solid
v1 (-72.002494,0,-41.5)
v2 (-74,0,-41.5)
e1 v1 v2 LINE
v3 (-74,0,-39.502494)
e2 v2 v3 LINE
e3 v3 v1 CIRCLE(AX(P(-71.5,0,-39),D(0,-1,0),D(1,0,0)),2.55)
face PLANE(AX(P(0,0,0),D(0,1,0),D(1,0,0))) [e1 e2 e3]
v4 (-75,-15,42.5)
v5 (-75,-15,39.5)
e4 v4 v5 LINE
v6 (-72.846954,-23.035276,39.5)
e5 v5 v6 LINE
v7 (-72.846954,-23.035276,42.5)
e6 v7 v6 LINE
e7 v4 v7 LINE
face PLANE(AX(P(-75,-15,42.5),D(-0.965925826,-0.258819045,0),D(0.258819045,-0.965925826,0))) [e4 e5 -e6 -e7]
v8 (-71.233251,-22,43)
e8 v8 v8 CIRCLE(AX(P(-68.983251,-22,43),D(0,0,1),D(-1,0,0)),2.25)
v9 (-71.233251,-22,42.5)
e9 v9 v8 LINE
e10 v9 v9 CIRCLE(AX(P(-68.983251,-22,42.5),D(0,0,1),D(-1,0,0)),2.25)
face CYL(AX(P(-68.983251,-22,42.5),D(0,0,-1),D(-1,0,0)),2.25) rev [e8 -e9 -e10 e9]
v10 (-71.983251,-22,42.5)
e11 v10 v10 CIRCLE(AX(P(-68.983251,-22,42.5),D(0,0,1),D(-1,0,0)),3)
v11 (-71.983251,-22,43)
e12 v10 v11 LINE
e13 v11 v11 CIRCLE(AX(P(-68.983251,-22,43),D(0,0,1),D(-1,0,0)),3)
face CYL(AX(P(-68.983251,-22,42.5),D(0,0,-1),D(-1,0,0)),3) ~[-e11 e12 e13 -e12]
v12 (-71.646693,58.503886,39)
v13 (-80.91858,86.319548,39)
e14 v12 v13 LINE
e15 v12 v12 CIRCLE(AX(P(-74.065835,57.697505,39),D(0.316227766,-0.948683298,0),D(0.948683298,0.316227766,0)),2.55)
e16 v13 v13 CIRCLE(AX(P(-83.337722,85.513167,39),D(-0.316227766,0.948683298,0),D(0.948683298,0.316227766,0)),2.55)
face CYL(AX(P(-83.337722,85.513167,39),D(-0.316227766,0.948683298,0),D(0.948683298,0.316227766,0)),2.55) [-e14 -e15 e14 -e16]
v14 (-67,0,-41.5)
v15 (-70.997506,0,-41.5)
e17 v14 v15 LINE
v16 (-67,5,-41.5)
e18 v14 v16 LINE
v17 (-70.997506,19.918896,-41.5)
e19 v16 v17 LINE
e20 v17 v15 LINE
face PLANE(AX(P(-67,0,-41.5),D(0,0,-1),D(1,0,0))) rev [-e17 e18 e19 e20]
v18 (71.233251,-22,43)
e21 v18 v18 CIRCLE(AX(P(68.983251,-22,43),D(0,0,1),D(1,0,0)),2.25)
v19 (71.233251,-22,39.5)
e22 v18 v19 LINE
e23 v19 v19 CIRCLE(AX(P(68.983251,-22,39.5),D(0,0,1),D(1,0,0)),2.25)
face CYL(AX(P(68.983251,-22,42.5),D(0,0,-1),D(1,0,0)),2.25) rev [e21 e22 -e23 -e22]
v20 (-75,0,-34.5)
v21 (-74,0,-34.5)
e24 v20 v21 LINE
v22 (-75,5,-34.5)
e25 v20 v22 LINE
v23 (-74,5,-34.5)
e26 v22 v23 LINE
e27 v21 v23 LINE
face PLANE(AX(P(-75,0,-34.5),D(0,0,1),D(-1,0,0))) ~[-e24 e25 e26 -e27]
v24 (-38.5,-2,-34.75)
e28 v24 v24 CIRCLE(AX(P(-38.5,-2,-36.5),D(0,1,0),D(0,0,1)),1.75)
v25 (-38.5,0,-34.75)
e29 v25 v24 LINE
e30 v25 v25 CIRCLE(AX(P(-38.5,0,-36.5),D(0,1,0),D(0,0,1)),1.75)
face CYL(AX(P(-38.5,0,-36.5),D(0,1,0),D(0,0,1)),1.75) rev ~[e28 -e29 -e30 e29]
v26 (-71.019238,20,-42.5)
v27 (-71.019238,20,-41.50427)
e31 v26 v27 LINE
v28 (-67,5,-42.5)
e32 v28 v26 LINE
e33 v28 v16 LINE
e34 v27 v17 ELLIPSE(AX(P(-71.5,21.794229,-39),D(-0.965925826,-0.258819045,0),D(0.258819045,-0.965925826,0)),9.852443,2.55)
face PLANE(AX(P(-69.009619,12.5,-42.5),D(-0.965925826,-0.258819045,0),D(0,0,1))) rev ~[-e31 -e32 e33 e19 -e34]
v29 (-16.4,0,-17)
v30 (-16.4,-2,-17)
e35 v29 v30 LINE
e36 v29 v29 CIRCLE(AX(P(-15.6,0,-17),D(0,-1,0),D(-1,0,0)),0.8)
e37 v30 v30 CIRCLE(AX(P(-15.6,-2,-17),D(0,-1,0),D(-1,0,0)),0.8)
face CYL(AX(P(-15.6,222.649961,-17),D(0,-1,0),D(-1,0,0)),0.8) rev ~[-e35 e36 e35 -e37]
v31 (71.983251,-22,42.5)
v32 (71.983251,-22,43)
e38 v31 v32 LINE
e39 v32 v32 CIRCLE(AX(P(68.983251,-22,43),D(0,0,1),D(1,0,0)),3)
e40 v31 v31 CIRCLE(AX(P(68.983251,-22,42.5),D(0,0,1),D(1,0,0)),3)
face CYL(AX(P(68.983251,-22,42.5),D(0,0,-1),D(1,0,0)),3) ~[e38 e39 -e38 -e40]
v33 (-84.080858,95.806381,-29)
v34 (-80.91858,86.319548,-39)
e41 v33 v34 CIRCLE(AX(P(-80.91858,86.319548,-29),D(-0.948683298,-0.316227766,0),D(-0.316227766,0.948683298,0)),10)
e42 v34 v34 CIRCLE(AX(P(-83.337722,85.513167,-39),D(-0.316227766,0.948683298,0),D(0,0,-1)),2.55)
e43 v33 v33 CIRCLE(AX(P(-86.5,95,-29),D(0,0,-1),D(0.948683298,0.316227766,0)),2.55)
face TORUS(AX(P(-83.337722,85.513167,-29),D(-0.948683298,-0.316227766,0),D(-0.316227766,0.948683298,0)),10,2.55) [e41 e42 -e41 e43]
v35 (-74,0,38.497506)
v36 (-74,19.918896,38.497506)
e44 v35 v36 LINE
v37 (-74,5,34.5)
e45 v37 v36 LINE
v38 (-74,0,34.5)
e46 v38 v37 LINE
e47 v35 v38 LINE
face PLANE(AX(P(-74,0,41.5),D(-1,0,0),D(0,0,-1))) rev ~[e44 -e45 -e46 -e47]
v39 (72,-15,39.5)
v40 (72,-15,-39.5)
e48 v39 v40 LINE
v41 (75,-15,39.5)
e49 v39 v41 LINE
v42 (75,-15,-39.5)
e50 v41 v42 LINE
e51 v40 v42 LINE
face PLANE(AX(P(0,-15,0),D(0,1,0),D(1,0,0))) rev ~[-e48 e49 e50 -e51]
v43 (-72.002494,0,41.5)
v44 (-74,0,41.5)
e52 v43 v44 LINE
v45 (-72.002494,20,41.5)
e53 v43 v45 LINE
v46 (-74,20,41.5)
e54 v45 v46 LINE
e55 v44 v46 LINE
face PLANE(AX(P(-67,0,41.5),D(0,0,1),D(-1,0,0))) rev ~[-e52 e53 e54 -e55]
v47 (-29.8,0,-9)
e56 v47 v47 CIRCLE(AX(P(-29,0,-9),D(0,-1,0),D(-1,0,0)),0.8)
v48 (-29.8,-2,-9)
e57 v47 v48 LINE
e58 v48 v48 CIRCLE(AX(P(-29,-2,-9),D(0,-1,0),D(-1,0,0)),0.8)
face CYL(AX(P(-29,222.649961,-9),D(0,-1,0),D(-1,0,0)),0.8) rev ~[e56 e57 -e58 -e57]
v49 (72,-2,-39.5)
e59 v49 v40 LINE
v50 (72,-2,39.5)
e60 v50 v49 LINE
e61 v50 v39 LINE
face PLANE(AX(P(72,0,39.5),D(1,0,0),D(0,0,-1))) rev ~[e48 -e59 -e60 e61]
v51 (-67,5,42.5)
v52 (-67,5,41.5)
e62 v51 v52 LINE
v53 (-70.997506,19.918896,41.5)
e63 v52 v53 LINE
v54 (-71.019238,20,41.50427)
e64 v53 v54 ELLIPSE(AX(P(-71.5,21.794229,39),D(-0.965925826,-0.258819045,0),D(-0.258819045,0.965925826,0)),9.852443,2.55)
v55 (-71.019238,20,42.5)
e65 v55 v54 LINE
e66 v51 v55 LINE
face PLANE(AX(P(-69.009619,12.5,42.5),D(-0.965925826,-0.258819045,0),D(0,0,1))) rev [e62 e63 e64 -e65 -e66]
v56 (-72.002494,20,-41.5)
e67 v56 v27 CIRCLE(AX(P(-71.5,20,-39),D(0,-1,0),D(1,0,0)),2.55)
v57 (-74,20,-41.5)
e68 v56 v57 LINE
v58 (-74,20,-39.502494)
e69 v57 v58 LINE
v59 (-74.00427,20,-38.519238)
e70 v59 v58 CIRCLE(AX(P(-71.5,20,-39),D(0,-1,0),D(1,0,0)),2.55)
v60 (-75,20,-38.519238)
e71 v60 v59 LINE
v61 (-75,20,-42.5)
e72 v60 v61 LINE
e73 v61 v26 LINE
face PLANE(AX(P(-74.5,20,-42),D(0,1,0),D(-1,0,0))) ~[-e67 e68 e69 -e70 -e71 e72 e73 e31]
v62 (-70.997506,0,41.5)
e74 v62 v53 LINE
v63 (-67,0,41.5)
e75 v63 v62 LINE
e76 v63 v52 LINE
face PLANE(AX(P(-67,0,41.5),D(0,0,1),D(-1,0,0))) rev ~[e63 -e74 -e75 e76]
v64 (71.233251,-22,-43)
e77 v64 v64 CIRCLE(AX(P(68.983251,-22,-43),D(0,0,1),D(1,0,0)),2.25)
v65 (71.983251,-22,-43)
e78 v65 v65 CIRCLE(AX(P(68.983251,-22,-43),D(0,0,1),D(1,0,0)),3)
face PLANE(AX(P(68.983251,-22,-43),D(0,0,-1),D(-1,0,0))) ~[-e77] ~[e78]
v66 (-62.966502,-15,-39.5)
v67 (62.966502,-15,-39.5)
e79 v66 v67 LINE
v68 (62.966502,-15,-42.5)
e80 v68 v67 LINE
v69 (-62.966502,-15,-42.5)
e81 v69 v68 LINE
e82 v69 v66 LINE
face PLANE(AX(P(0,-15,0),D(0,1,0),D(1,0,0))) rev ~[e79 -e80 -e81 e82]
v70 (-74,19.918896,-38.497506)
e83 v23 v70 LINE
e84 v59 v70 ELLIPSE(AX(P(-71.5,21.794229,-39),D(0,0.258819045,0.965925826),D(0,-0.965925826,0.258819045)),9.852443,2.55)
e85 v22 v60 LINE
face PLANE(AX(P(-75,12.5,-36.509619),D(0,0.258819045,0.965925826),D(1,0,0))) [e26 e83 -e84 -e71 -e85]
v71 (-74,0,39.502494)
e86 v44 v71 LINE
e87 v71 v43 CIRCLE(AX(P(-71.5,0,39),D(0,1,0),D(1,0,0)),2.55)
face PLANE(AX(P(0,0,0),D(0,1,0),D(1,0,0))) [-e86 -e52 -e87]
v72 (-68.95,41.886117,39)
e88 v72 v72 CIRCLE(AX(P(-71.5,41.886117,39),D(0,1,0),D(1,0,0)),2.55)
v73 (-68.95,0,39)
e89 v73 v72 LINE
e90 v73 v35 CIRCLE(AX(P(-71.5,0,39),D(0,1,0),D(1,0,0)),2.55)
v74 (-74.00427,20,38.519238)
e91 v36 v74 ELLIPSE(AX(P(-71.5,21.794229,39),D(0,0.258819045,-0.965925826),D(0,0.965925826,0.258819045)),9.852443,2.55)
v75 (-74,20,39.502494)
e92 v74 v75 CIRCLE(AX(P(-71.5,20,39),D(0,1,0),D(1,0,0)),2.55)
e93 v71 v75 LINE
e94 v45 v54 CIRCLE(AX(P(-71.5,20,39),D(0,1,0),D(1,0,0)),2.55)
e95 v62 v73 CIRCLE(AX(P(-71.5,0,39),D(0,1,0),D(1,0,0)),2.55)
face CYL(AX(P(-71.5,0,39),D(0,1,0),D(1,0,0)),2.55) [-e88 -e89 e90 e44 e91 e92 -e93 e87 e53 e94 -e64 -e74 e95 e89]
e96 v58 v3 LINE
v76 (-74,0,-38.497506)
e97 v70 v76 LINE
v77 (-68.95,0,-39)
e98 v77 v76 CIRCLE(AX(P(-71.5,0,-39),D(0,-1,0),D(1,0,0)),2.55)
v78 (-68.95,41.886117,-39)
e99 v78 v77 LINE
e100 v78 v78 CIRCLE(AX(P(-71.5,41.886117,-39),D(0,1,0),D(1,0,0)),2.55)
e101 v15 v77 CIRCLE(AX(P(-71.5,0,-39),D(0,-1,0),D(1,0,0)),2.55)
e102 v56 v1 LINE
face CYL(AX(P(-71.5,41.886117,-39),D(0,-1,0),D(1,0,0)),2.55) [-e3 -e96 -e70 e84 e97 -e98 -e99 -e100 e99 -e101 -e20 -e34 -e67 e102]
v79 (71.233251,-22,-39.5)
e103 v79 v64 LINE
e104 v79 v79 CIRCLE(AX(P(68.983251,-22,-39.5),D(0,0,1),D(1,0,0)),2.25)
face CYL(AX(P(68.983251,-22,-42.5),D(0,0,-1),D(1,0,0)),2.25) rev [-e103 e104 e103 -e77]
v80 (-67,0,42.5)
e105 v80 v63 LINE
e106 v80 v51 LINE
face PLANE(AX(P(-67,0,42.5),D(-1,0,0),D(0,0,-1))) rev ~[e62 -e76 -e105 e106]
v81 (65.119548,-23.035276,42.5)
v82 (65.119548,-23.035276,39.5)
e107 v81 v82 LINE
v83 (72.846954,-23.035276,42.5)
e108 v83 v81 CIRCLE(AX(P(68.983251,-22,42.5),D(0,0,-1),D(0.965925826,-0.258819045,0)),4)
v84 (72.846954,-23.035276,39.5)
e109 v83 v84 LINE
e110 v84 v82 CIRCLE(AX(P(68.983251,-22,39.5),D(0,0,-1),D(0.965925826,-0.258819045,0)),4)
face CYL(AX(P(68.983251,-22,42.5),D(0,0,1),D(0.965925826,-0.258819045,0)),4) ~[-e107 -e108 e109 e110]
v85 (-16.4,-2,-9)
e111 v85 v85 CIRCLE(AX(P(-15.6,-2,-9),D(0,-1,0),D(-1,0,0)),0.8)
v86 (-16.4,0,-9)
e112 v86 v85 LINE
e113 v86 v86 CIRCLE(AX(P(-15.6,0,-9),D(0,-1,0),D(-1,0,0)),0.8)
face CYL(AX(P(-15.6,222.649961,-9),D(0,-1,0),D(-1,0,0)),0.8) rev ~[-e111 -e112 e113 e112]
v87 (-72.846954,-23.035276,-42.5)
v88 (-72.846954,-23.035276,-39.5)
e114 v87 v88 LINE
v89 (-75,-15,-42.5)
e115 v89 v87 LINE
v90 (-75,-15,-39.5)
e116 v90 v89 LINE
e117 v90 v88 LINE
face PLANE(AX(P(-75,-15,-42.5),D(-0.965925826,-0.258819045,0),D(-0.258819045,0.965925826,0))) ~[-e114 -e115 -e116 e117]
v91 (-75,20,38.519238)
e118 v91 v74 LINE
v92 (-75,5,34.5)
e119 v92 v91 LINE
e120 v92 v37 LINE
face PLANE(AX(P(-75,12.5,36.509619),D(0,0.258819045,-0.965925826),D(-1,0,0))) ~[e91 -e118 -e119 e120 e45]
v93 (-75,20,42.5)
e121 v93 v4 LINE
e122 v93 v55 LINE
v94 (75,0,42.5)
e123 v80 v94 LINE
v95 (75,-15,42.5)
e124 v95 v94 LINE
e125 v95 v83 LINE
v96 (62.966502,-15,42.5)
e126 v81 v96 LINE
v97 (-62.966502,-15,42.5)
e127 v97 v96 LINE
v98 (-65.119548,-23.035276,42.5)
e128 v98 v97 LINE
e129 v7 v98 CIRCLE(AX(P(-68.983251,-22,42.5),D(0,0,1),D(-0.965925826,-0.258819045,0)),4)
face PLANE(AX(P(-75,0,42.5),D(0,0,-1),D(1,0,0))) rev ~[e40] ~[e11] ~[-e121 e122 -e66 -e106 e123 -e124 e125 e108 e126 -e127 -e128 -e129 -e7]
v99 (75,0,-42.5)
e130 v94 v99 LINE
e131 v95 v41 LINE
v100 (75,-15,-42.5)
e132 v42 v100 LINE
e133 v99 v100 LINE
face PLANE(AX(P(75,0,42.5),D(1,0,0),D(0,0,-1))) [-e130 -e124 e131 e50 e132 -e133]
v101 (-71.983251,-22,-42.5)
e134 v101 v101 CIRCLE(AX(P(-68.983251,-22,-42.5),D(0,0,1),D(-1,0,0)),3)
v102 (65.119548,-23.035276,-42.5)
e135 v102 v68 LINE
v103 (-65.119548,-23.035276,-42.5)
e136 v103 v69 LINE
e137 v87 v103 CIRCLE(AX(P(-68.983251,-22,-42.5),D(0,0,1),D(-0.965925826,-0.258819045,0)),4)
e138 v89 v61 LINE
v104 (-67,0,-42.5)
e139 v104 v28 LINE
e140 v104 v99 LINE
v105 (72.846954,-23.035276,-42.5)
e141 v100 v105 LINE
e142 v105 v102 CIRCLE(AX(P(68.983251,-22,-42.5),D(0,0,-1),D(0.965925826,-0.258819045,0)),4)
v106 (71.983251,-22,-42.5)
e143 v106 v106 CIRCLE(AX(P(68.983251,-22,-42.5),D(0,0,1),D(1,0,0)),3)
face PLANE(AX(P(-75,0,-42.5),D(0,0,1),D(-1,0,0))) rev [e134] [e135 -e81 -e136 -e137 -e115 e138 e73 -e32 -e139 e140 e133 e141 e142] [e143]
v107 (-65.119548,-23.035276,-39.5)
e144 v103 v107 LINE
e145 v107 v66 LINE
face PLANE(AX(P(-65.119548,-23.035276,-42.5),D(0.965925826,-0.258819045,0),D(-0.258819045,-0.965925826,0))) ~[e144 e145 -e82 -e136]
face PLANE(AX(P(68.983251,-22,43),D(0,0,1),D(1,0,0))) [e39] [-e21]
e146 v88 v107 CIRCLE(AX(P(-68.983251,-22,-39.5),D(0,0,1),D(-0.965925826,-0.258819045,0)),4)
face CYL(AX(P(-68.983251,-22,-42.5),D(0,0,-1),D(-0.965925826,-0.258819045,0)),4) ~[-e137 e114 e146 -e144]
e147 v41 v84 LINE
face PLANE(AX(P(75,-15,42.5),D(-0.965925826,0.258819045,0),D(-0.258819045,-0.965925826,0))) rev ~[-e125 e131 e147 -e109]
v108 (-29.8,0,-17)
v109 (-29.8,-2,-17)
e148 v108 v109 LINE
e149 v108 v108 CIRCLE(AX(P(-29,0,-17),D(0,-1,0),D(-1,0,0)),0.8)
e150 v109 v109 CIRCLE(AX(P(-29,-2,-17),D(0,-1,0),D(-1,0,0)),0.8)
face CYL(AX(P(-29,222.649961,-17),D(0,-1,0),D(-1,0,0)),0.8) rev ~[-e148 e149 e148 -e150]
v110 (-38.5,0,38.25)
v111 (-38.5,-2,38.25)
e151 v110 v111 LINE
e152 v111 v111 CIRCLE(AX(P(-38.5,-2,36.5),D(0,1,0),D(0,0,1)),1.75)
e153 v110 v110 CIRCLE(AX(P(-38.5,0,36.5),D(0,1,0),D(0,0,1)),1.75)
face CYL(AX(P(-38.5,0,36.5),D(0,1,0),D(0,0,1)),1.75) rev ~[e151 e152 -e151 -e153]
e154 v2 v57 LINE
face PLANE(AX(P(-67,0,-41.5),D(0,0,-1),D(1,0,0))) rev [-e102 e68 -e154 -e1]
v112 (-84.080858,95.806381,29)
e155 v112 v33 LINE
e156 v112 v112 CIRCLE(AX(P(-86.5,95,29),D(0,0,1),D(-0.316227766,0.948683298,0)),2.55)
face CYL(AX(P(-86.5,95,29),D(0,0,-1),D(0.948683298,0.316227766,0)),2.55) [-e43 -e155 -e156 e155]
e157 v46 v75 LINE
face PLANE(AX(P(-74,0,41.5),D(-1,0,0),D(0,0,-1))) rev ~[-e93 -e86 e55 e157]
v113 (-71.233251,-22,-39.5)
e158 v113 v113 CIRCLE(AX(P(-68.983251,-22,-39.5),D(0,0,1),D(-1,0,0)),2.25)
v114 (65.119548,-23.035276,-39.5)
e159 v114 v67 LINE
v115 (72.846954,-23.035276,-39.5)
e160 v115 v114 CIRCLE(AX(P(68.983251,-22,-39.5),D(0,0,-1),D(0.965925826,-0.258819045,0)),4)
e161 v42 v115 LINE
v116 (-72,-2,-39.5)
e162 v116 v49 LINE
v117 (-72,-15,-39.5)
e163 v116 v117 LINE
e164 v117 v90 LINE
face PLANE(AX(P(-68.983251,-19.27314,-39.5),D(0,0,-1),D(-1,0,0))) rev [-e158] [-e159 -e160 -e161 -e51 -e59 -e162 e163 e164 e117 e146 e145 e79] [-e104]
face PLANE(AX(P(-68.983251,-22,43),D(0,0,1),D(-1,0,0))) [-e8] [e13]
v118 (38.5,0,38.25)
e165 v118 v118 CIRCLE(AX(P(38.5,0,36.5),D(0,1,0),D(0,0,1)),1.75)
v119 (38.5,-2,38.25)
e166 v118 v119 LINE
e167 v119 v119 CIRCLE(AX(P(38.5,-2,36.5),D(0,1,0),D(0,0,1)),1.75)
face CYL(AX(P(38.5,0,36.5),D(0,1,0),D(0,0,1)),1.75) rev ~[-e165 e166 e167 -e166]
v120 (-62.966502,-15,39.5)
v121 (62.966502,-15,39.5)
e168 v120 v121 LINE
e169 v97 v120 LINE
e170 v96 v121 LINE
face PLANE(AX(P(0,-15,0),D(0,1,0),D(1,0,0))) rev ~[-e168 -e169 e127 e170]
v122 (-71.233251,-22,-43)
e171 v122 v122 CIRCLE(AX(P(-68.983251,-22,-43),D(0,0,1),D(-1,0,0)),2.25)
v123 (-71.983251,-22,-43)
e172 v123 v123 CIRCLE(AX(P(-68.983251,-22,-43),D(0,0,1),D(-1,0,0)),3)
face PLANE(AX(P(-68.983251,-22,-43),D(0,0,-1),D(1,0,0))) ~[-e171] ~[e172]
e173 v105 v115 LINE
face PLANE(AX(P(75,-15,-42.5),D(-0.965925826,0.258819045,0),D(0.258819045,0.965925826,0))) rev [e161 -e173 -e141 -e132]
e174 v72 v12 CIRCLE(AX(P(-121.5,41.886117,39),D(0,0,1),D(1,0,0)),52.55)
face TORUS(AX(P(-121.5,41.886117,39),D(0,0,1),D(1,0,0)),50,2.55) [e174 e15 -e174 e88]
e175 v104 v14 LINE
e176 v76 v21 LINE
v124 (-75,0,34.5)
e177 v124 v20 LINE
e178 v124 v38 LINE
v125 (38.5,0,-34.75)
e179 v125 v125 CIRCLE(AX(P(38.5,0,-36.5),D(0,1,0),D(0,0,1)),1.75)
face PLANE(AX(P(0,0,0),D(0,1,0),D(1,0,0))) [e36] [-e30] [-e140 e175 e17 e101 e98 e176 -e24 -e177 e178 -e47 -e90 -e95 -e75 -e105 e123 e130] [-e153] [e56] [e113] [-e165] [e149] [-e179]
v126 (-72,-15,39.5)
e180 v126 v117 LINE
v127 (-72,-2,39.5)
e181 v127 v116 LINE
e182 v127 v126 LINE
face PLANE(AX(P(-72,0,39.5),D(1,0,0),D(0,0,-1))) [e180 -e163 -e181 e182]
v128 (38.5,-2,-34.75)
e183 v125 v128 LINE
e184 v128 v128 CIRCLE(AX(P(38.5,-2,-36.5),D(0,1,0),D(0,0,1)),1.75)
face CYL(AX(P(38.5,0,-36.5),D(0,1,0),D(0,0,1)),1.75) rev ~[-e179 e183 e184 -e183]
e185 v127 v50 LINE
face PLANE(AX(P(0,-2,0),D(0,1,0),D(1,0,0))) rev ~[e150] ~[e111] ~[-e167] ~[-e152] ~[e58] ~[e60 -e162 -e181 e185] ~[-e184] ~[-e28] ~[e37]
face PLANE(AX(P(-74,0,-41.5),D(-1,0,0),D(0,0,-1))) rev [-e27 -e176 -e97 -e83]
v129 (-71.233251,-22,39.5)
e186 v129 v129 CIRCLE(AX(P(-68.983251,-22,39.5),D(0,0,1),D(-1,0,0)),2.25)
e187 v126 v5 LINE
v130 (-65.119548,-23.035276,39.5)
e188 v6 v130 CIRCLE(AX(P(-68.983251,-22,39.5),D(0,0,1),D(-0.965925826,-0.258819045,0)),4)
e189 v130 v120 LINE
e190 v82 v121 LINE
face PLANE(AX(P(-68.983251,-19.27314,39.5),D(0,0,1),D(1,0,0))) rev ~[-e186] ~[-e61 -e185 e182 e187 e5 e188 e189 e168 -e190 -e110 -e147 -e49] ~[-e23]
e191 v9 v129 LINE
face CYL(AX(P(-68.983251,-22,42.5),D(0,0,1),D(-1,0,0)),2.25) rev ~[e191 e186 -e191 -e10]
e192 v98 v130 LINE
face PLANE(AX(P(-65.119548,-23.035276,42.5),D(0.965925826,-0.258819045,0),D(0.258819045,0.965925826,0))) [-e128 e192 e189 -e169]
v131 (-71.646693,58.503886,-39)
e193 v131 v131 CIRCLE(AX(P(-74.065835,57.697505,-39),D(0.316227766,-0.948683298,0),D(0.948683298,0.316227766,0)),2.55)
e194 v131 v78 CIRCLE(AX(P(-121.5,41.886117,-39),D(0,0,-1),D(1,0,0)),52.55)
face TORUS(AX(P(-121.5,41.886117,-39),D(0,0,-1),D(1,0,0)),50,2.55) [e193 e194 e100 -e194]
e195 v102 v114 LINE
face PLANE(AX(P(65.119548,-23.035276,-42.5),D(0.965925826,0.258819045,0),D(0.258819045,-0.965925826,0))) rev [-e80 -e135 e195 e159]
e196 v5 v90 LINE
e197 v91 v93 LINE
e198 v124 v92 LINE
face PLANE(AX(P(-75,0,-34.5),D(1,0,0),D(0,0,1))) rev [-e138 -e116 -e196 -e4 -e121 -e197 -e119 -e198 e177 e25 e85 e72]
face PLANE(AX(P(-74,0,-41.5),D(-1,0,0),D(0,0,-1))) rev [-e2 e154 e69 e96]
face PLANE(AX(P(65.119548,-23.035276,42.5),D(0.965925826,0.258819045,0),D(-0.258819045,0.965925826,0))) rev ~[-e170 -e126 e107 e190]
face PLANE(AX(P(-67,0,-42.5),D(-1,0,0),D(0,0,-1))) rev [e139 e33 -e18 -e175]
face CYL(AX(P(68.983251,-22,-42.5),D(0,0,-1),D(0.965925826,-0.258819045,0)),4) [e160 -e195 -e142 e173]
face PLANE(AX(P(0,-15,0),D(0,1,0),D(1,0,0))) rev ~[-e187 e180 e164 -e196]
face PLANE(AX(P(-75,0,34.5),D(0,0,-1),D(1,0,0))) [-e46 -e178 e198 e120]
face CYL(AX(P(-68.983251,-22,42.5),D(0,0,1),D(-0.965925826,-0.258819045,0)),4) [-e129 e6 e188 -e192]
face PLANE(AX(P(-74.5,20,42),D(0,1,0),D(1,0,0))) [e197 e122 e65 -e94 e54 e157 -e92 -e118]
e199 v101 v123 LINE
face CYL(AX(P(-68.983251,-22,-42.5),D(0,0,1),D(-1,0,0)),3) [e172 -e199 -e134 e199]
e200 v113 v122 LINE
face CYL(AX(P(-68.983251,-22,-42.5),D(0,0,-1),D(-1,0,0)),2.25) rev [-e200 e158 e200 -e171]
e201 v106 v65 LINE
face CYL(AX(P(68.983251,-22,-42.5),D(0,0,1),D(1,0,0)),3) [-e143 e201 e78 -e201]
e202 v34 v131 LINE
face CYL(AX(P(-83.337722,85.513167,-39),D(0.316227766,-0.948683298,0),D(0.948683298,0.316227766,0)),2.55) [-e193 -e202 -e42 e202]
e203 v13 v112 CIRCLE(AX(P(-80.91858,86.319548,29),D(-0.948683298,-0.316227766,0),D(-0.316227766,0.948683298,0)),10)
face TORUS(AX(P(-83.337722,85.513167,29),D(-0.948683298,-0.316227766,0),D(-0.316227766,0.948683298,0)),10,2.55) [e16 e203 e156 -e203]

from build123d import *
from OCP.BRepFilletAPI import BRepFilletAPI_MakeChamfer

# Parameters (mm, degrees)
SKETCH_1_W                  = 150
SKETCH_1_H                  = 85
EXTRUDE_1_DEPTH             = 2
SKETCH_1_2_W                = 150
SKETCH_1_2_H                = 85
SKETCH_1_2_W_2              = 144
SKETCH_1_2_H_2              = 79
EXTRUDE_1_2_DEPTH           = 15
SKETCH_4_R                  = 2.25
EXTRUDE_2_DEPTH             = 3
CUT_EXTRUDE_2_REACH         = 92.04
SKETCH_6_R                  = 1.75
SKETCH_10_W                 = 1
SKETCH_10_H                 = 1
SKETCH_10_W_2               = 7
SKETCH_10_H_2               = 7
EXTRUDE_4_DEPTH             = 20
CHAMFER_1_SIZE              = 15
CHAMFER_1_SIZE2             = 4.019237886
SKETCH_13_R                 = 3
SKETCH_13_R_2               = 2.25
EXTRUDE_5_DEPTH             = 0.5
CHAMFER_1_OF_MIRROR_2_SIZE  = 15
CHAMFER_1_OF_MIRROR_2_SIZE2 = 4.019237886
SKETCH_12_R                 = 2.55
HOLE_WIZARD_M2_1_D          = 1.6


with BuildPart() as part:
    # 草圖1 → Extrude 1 (new body)
    with BuildSketch(Plane(origin=(0, 0, 0), x_dir=(1, 0, 0), z_dir=(0, 1, 0))):
        Rectangle(SKETCH_1_W, SKETCH_1_H)
    extrude(amount=-EXTRUDE_1_DEPTH)

    # 草圖1<2> → Extrude 1 2 (add)
    with BuildSketch(Plane(origin=(0, 0, 0), x_dir=(1, 0, 0), z_dir=(0, 1, 0))):
        Rectangle(SKETCH_1_2_W, SKETCH_1_2_H)
        Rectangle(SKETCH_1_2_W_2, SKETCH_1_2_H_2, mode=Mode.SUBTRACT)
    extrude(amount=-EXTRUDE_1_2_DEPTH)

    # 草圖4 → 填料-伸長2 (add)
    # profile 1 of 2: a face of its own
    with BuildSketch(Plane.XY.offset(42.5)):
        with BuildLine():
            Line((-75, -15), (-72.846954236, -23.03527618))
            ThreePointArc((-72.846954236, -23.03527618), (-68.983250931, -26), (-65.119547626, -23.03527618))
            Line((-65.119547626, -23.03527618), (-62.966501863, -15))
            Line((-62.966501863, -15), (-75, -15))
        make_face()
        with Locations(Location((-68.983250931, -22, 0), (0, 0, 180))):
            Circle(SKETCH_4_R, mode=Mode.SUBTRACT)
    # profile 2 of 2: a face of its own
    with BuildSketch(Plane.XY.offset(42.5)):
        with BuildLine():
            Line((62.966501863, -15), (75, -15))
            Line((75, -15), (72.846954236, -23.03527618))
            ThreePointArc((72.846954236, -23.03527618), (68.983250931, -26), (65.119547626, -23.03527618))
            Line((65.119547626, -23.03527618), (62.966501863, -15))
        make_face()
        with Locations((68.983250931, -22)):
            Circle(SKETCH_4_R, mode=Mode.SUBTRACT)
    extrude_2 = extrude(amount=-EXTRUDE_2_DEPTH)

    # 鏡射1: 填料-伸長2 across plane
    add(extrude_2.mirror(Plane.XY))

    # 草圖6 → 除料-伸長2 (cut, up to next)
    with BuildSketch(Plane(origin=(0, 0, 0), x_dir=(1, 0, 0), z_dir=(0, 1, 0)), mode=Mode.PRIVATE) as cut_extrude_2_sk1:
        with Locations(Location((-38.5, -36.5, 0), (0, 0, 270))):
            Circle(SKETCH_6_R)
    cut_extrude_2_tool1 = extrude(cut_extrude_2_sk1.sketch, amount=-CUT_EXTRUDE_2_REACH, mode=Mode.PRIVATE) & part.part
    # 草圖6 → 除料-伸長2 (cut, up to next)
    with BuildSketch(Plane(origin=(0, 0, 0), x_dir=(1, 0, 0), z_dir=(0, 1, 0)), mode=Mode.PRIVATE) as cut_extrude_2_sk2:
        with Locations(Location((38.5, -36.5, 0), (0, 0, 270))):
            Circle(SKETCH_6_R)
    cut_extrude_2_tool2 = extrude(cut_extrude_2_sk2.sketch, amount=-CUT_EXTRUDE_2_REACH, mode=Mode.PRIVATE) & part.part
    # 草圖6 → 除料-伸長2 (cut, up to next)
    with BuildSketch(Plane(origin=(0, 0, 0), x_dir=(1, 0, 0), z_dir=(0, 1, 0)), mode=Mode.PRIVATE) as cut_extrude_2_sk3:
        with Locations(Location((38.5, 36.5, 0), (0, 0, 270))):
            Circle(SKETCH_6_R)
    cut_extrude_2_tool3 = extrude(cut_extrude_2_sk3.sketch, amount=-CUT_EXTRUDE_2_REACH, mode=Mode.PRIVATE) & part.part
    # 草圖6 → 除料-伸長2 (cut, up to next)
    with BuildSketch(Plane(origin=(0, 0, 0), x_dir=(1, 0, 0), z_dir=(0, 1, 0)), mode=Mode.PRIVATE) as cut_extrude_2_sk4:
        with Locations(Location((-38.5, 36.5, 0), (0, 0, 270))):
            Circle(SKETCH_6_R)
    cut_extrude_2_tool4 = extrude(cut_extrude_2_sk4.sketch, amount=-CUT_EXTRUDE_2_REACH, mode=Mode.PRIVATE) & part.part
    add(cut_extrude_2_tool1.solids().sort_by_distance((-38.5, 0, 36.5))[0], mode=Mode.SUBTRACT)
    add(cut_extrude_2_tool2.solids().sort_by_distance((38.5, 0, 36.5))[0], mode=Mode.SUBTRACT)
    add(cut_extrude_2_tool3.solids().sort_by_distance((38.5, 0, -36.5))[0], mode=Mode.SUBTRACT)
    add(cut_extrude_2_tool4.solids().sort_by_distance((-38.5, 0, -36.5))[0], mode=Mode.SUBTRACT)

    # 草圖10 → 填料-伸長4 (add)
    with BuildSketch(Plane(origin=(0, 0, 0), x_dir=(1, 0, 0), z_dir=(0, 1, 0))):
        with Locations((-74.5, -42)):
            Rectangle(SKETCH_10_W, SKETCH_10_H)
        with Locations((-70.5, -42)):
            Rectangle(SKETCH_10_W_2, SKETCH_10_H)
        with Locations((-74.5, -38)):
            Rectangle(SKETCH_10_W, SKETCH_10_H_2)
    extrude_4 = extrude(amount=EXTRUDE_4_DEPTH)

    # 導角1: one chamfer whose edges measure the first distance from different faces: ONE call of the kernel's chamfer builder (chamfer() names one face for all edges)
    chamfer_1_edges_1 = [part.edges().sort_by_distance(p)[0] for p in [
        (-67, 20, 42),
    ]]
    chamfer_1_side_1 = [part.faces().sort_by_distance(p)[0] for p in [
        (-67, 10, 42),
    ]]
    chamfer_1_edges_2 = [part.edges().sort_by_distance(p)[0] for p in [
        (-74.5, 20, 34.5),
    ]]
    chamfer_1_side_2 = [part.faces().sort_by_distance(p)[0] for p in [
        (-74.5, 10, 34.5),
    ]]
    chamfer_1 = BRepFilletAPI_MakeChamfer(part.part.solid().wrapped)
    for e in chamfer_1_edges_1:
        chamfer_1.Add(CHAMFER_1_SIZE, CHAMFER_1_SIZE2, e.wrapped, chamfer_1_side_1[0].wrapped)  # the first distance lies on this face
    for e in chamfer_1_edges_2:
        chamfer_1.Add(CHAMFER_1_SIZE, CHAMFER_1_SIZE2, e.wrapped, chamfer_1_side_2[0].wrapped)  # the first distance lies on this face
    add(Compound.cast(chamfer_1.Shape()), mode=Mode.REPLACE)

    # 草圖13 → 填料-伸長5 (add)
    # profile 1 of 2: a face of its own
    with BuildSketch(Plane.XY.offset(42.5)):
        with Locations((68.983250931, -22)):
            Circle(SKETCH_13_R)
        with Locations((68.983250931, -22)):
            Circle(SKETCH_13_R_2, mode=Mode.SUBTRACT)
    # profile 2 of 2: a face of its own
    with BuildSketch(Plane.XY.offset(42.5)):
        with Locations(Location((-68.983250931, -22, 0), (0, 0, 180))):
            Circle(SKETCH_13_R)
        with Locations(Location((-68.983250931, -22, 0), (0, 0, 180))):
            Circle(SKETCH_13_R_2, mode=Mode.SUBTRACT)
    extrude_5 = extrude(amount=EXTRUDE_5_DEPTH)

    # 鏡射2: 填料-伸長4, 填料-伸長5 across plane
    add(extrude_4.mirror(Plane.XY))
    add(extrude_5.mirror(Plane.XY))

    # 導角1 of 鏡射2: one chamfer whose edges measure the first distance from different faces: ONE call of the kernel's chamfer builder (chamfer() names one face for all edges)
    chamfer_1_of_mirror_2_edges_1 = [part.edges().sort_by_distance(p)[0] for p in [
        (-67, 20, -42),
    ]]
    chamfer_1_of_mirror_2_side_1 = [part.faces().sort_by_distance(p)[0] for p in [
        (-67, 10, -42),
    ]]
    chamfer_1_of_mirror_2_edges_2 = [part.edges().sort_by_distance(p)[0] for p in [
        (-74.5, 20, -34.5),
    ]]
    chamfer_1_of_mirror_2_side_2 = [part.faces().sort_by_distance(p)[0] for p in [
        (-74.5, 10, -34.5),
    ]]
    chamfer_1_of_mirror_2 = BRepFilletAPI_MakeChamfer(part.part.solid().wrapped)
    for e in chamfer_1_of_mirror_2_edges_1:
        chamfer_1_of_mirror_2.Add(CHAMFER_1_OF_MIRROR_2_SIZE, CHAMFER_1_OF_MIRROR_2_SIZE2, e.wrapped, chamfer_1_of_mirror_2_side_1[0].wrapped)  # the first distance lies on this face
    for e in chamfer_1_of_mirror_2_edges_2:
        chamfer_1_of_mirror_2.Add(CHAMFER_1_OF_MIRROR_2_SIZE, CHAMFER_1_OF_MIRROR_2_SIZE2, e.wrapped, chamfer_1_of_mirror_2_side_2[0].wrapped)  # the first distance lies on this face
    add(Compound.cast(chamfer_1_of_mirror_2.Shape()), mode=Mode.REPLACE)

    # 掃出17: sweep along a curve in space
    with BuildLine() as sweep_17_path:
        Line((-71.5, 0, 39), (-71.5, 41.886116992, 39))
        ThreePointArc((-71.5, 41.886116992, 39), (-72.145627118, 49.895229142, 39), (-74.065835097, 57.697505292, 39))
        Line((-83.33772234, 85.513167019, 39), (-74.065835097, 57.697505292, 39))
        ThreePointArc((-86.5, 95, 29), (-85.573790317, 92.221370952, 36.071067812), (-83.33772234, 85.513167019, 39))
        Line((-86.5, 95, 29), (-86.5, 95, -29))
        ThreePointArc((-86.5, 95, -29), (-85.573790317, 92.221370952, -36.071067812), (-83.33772234, 85.513167019, -39))
        Line((-83.33772234, 85.513167019, -39), (-74.065835097, 57.697505292, -39))
        ThreePointArc((-71.5, 41.886116992, -39), (-72.145627118, 49.895229142, -39), (-74.065835097, 57.697505292, -39))
        Line((-71.5, 41.886116992, -39), (-71.5, 0, -39))
    # 草圖12 → 掃出17 (sweep)
    with BuildSketch(Plane(origin=(0, 0, 0), x_dir=(1, 0, 0), z_dir=(0, 1, 0))):
        with Locations((-71.5, 39)):
            Circle(SKETCH_12_R)
    sweep(path=sweep_17_path.line)

    # M2 螺紋孔1 (through all)
    with Locations(Plane(origin=(0, 0, 0), x_dir=(1, 0, 0), z_dir=(0, 1, 0))):
        with Locations((-29, 17), (-15.6, 17), (-15.6, 9), (-29, 9)):
            Hole(HOLE_WIZARD_M2_1_D / 2)


solid = part.part
